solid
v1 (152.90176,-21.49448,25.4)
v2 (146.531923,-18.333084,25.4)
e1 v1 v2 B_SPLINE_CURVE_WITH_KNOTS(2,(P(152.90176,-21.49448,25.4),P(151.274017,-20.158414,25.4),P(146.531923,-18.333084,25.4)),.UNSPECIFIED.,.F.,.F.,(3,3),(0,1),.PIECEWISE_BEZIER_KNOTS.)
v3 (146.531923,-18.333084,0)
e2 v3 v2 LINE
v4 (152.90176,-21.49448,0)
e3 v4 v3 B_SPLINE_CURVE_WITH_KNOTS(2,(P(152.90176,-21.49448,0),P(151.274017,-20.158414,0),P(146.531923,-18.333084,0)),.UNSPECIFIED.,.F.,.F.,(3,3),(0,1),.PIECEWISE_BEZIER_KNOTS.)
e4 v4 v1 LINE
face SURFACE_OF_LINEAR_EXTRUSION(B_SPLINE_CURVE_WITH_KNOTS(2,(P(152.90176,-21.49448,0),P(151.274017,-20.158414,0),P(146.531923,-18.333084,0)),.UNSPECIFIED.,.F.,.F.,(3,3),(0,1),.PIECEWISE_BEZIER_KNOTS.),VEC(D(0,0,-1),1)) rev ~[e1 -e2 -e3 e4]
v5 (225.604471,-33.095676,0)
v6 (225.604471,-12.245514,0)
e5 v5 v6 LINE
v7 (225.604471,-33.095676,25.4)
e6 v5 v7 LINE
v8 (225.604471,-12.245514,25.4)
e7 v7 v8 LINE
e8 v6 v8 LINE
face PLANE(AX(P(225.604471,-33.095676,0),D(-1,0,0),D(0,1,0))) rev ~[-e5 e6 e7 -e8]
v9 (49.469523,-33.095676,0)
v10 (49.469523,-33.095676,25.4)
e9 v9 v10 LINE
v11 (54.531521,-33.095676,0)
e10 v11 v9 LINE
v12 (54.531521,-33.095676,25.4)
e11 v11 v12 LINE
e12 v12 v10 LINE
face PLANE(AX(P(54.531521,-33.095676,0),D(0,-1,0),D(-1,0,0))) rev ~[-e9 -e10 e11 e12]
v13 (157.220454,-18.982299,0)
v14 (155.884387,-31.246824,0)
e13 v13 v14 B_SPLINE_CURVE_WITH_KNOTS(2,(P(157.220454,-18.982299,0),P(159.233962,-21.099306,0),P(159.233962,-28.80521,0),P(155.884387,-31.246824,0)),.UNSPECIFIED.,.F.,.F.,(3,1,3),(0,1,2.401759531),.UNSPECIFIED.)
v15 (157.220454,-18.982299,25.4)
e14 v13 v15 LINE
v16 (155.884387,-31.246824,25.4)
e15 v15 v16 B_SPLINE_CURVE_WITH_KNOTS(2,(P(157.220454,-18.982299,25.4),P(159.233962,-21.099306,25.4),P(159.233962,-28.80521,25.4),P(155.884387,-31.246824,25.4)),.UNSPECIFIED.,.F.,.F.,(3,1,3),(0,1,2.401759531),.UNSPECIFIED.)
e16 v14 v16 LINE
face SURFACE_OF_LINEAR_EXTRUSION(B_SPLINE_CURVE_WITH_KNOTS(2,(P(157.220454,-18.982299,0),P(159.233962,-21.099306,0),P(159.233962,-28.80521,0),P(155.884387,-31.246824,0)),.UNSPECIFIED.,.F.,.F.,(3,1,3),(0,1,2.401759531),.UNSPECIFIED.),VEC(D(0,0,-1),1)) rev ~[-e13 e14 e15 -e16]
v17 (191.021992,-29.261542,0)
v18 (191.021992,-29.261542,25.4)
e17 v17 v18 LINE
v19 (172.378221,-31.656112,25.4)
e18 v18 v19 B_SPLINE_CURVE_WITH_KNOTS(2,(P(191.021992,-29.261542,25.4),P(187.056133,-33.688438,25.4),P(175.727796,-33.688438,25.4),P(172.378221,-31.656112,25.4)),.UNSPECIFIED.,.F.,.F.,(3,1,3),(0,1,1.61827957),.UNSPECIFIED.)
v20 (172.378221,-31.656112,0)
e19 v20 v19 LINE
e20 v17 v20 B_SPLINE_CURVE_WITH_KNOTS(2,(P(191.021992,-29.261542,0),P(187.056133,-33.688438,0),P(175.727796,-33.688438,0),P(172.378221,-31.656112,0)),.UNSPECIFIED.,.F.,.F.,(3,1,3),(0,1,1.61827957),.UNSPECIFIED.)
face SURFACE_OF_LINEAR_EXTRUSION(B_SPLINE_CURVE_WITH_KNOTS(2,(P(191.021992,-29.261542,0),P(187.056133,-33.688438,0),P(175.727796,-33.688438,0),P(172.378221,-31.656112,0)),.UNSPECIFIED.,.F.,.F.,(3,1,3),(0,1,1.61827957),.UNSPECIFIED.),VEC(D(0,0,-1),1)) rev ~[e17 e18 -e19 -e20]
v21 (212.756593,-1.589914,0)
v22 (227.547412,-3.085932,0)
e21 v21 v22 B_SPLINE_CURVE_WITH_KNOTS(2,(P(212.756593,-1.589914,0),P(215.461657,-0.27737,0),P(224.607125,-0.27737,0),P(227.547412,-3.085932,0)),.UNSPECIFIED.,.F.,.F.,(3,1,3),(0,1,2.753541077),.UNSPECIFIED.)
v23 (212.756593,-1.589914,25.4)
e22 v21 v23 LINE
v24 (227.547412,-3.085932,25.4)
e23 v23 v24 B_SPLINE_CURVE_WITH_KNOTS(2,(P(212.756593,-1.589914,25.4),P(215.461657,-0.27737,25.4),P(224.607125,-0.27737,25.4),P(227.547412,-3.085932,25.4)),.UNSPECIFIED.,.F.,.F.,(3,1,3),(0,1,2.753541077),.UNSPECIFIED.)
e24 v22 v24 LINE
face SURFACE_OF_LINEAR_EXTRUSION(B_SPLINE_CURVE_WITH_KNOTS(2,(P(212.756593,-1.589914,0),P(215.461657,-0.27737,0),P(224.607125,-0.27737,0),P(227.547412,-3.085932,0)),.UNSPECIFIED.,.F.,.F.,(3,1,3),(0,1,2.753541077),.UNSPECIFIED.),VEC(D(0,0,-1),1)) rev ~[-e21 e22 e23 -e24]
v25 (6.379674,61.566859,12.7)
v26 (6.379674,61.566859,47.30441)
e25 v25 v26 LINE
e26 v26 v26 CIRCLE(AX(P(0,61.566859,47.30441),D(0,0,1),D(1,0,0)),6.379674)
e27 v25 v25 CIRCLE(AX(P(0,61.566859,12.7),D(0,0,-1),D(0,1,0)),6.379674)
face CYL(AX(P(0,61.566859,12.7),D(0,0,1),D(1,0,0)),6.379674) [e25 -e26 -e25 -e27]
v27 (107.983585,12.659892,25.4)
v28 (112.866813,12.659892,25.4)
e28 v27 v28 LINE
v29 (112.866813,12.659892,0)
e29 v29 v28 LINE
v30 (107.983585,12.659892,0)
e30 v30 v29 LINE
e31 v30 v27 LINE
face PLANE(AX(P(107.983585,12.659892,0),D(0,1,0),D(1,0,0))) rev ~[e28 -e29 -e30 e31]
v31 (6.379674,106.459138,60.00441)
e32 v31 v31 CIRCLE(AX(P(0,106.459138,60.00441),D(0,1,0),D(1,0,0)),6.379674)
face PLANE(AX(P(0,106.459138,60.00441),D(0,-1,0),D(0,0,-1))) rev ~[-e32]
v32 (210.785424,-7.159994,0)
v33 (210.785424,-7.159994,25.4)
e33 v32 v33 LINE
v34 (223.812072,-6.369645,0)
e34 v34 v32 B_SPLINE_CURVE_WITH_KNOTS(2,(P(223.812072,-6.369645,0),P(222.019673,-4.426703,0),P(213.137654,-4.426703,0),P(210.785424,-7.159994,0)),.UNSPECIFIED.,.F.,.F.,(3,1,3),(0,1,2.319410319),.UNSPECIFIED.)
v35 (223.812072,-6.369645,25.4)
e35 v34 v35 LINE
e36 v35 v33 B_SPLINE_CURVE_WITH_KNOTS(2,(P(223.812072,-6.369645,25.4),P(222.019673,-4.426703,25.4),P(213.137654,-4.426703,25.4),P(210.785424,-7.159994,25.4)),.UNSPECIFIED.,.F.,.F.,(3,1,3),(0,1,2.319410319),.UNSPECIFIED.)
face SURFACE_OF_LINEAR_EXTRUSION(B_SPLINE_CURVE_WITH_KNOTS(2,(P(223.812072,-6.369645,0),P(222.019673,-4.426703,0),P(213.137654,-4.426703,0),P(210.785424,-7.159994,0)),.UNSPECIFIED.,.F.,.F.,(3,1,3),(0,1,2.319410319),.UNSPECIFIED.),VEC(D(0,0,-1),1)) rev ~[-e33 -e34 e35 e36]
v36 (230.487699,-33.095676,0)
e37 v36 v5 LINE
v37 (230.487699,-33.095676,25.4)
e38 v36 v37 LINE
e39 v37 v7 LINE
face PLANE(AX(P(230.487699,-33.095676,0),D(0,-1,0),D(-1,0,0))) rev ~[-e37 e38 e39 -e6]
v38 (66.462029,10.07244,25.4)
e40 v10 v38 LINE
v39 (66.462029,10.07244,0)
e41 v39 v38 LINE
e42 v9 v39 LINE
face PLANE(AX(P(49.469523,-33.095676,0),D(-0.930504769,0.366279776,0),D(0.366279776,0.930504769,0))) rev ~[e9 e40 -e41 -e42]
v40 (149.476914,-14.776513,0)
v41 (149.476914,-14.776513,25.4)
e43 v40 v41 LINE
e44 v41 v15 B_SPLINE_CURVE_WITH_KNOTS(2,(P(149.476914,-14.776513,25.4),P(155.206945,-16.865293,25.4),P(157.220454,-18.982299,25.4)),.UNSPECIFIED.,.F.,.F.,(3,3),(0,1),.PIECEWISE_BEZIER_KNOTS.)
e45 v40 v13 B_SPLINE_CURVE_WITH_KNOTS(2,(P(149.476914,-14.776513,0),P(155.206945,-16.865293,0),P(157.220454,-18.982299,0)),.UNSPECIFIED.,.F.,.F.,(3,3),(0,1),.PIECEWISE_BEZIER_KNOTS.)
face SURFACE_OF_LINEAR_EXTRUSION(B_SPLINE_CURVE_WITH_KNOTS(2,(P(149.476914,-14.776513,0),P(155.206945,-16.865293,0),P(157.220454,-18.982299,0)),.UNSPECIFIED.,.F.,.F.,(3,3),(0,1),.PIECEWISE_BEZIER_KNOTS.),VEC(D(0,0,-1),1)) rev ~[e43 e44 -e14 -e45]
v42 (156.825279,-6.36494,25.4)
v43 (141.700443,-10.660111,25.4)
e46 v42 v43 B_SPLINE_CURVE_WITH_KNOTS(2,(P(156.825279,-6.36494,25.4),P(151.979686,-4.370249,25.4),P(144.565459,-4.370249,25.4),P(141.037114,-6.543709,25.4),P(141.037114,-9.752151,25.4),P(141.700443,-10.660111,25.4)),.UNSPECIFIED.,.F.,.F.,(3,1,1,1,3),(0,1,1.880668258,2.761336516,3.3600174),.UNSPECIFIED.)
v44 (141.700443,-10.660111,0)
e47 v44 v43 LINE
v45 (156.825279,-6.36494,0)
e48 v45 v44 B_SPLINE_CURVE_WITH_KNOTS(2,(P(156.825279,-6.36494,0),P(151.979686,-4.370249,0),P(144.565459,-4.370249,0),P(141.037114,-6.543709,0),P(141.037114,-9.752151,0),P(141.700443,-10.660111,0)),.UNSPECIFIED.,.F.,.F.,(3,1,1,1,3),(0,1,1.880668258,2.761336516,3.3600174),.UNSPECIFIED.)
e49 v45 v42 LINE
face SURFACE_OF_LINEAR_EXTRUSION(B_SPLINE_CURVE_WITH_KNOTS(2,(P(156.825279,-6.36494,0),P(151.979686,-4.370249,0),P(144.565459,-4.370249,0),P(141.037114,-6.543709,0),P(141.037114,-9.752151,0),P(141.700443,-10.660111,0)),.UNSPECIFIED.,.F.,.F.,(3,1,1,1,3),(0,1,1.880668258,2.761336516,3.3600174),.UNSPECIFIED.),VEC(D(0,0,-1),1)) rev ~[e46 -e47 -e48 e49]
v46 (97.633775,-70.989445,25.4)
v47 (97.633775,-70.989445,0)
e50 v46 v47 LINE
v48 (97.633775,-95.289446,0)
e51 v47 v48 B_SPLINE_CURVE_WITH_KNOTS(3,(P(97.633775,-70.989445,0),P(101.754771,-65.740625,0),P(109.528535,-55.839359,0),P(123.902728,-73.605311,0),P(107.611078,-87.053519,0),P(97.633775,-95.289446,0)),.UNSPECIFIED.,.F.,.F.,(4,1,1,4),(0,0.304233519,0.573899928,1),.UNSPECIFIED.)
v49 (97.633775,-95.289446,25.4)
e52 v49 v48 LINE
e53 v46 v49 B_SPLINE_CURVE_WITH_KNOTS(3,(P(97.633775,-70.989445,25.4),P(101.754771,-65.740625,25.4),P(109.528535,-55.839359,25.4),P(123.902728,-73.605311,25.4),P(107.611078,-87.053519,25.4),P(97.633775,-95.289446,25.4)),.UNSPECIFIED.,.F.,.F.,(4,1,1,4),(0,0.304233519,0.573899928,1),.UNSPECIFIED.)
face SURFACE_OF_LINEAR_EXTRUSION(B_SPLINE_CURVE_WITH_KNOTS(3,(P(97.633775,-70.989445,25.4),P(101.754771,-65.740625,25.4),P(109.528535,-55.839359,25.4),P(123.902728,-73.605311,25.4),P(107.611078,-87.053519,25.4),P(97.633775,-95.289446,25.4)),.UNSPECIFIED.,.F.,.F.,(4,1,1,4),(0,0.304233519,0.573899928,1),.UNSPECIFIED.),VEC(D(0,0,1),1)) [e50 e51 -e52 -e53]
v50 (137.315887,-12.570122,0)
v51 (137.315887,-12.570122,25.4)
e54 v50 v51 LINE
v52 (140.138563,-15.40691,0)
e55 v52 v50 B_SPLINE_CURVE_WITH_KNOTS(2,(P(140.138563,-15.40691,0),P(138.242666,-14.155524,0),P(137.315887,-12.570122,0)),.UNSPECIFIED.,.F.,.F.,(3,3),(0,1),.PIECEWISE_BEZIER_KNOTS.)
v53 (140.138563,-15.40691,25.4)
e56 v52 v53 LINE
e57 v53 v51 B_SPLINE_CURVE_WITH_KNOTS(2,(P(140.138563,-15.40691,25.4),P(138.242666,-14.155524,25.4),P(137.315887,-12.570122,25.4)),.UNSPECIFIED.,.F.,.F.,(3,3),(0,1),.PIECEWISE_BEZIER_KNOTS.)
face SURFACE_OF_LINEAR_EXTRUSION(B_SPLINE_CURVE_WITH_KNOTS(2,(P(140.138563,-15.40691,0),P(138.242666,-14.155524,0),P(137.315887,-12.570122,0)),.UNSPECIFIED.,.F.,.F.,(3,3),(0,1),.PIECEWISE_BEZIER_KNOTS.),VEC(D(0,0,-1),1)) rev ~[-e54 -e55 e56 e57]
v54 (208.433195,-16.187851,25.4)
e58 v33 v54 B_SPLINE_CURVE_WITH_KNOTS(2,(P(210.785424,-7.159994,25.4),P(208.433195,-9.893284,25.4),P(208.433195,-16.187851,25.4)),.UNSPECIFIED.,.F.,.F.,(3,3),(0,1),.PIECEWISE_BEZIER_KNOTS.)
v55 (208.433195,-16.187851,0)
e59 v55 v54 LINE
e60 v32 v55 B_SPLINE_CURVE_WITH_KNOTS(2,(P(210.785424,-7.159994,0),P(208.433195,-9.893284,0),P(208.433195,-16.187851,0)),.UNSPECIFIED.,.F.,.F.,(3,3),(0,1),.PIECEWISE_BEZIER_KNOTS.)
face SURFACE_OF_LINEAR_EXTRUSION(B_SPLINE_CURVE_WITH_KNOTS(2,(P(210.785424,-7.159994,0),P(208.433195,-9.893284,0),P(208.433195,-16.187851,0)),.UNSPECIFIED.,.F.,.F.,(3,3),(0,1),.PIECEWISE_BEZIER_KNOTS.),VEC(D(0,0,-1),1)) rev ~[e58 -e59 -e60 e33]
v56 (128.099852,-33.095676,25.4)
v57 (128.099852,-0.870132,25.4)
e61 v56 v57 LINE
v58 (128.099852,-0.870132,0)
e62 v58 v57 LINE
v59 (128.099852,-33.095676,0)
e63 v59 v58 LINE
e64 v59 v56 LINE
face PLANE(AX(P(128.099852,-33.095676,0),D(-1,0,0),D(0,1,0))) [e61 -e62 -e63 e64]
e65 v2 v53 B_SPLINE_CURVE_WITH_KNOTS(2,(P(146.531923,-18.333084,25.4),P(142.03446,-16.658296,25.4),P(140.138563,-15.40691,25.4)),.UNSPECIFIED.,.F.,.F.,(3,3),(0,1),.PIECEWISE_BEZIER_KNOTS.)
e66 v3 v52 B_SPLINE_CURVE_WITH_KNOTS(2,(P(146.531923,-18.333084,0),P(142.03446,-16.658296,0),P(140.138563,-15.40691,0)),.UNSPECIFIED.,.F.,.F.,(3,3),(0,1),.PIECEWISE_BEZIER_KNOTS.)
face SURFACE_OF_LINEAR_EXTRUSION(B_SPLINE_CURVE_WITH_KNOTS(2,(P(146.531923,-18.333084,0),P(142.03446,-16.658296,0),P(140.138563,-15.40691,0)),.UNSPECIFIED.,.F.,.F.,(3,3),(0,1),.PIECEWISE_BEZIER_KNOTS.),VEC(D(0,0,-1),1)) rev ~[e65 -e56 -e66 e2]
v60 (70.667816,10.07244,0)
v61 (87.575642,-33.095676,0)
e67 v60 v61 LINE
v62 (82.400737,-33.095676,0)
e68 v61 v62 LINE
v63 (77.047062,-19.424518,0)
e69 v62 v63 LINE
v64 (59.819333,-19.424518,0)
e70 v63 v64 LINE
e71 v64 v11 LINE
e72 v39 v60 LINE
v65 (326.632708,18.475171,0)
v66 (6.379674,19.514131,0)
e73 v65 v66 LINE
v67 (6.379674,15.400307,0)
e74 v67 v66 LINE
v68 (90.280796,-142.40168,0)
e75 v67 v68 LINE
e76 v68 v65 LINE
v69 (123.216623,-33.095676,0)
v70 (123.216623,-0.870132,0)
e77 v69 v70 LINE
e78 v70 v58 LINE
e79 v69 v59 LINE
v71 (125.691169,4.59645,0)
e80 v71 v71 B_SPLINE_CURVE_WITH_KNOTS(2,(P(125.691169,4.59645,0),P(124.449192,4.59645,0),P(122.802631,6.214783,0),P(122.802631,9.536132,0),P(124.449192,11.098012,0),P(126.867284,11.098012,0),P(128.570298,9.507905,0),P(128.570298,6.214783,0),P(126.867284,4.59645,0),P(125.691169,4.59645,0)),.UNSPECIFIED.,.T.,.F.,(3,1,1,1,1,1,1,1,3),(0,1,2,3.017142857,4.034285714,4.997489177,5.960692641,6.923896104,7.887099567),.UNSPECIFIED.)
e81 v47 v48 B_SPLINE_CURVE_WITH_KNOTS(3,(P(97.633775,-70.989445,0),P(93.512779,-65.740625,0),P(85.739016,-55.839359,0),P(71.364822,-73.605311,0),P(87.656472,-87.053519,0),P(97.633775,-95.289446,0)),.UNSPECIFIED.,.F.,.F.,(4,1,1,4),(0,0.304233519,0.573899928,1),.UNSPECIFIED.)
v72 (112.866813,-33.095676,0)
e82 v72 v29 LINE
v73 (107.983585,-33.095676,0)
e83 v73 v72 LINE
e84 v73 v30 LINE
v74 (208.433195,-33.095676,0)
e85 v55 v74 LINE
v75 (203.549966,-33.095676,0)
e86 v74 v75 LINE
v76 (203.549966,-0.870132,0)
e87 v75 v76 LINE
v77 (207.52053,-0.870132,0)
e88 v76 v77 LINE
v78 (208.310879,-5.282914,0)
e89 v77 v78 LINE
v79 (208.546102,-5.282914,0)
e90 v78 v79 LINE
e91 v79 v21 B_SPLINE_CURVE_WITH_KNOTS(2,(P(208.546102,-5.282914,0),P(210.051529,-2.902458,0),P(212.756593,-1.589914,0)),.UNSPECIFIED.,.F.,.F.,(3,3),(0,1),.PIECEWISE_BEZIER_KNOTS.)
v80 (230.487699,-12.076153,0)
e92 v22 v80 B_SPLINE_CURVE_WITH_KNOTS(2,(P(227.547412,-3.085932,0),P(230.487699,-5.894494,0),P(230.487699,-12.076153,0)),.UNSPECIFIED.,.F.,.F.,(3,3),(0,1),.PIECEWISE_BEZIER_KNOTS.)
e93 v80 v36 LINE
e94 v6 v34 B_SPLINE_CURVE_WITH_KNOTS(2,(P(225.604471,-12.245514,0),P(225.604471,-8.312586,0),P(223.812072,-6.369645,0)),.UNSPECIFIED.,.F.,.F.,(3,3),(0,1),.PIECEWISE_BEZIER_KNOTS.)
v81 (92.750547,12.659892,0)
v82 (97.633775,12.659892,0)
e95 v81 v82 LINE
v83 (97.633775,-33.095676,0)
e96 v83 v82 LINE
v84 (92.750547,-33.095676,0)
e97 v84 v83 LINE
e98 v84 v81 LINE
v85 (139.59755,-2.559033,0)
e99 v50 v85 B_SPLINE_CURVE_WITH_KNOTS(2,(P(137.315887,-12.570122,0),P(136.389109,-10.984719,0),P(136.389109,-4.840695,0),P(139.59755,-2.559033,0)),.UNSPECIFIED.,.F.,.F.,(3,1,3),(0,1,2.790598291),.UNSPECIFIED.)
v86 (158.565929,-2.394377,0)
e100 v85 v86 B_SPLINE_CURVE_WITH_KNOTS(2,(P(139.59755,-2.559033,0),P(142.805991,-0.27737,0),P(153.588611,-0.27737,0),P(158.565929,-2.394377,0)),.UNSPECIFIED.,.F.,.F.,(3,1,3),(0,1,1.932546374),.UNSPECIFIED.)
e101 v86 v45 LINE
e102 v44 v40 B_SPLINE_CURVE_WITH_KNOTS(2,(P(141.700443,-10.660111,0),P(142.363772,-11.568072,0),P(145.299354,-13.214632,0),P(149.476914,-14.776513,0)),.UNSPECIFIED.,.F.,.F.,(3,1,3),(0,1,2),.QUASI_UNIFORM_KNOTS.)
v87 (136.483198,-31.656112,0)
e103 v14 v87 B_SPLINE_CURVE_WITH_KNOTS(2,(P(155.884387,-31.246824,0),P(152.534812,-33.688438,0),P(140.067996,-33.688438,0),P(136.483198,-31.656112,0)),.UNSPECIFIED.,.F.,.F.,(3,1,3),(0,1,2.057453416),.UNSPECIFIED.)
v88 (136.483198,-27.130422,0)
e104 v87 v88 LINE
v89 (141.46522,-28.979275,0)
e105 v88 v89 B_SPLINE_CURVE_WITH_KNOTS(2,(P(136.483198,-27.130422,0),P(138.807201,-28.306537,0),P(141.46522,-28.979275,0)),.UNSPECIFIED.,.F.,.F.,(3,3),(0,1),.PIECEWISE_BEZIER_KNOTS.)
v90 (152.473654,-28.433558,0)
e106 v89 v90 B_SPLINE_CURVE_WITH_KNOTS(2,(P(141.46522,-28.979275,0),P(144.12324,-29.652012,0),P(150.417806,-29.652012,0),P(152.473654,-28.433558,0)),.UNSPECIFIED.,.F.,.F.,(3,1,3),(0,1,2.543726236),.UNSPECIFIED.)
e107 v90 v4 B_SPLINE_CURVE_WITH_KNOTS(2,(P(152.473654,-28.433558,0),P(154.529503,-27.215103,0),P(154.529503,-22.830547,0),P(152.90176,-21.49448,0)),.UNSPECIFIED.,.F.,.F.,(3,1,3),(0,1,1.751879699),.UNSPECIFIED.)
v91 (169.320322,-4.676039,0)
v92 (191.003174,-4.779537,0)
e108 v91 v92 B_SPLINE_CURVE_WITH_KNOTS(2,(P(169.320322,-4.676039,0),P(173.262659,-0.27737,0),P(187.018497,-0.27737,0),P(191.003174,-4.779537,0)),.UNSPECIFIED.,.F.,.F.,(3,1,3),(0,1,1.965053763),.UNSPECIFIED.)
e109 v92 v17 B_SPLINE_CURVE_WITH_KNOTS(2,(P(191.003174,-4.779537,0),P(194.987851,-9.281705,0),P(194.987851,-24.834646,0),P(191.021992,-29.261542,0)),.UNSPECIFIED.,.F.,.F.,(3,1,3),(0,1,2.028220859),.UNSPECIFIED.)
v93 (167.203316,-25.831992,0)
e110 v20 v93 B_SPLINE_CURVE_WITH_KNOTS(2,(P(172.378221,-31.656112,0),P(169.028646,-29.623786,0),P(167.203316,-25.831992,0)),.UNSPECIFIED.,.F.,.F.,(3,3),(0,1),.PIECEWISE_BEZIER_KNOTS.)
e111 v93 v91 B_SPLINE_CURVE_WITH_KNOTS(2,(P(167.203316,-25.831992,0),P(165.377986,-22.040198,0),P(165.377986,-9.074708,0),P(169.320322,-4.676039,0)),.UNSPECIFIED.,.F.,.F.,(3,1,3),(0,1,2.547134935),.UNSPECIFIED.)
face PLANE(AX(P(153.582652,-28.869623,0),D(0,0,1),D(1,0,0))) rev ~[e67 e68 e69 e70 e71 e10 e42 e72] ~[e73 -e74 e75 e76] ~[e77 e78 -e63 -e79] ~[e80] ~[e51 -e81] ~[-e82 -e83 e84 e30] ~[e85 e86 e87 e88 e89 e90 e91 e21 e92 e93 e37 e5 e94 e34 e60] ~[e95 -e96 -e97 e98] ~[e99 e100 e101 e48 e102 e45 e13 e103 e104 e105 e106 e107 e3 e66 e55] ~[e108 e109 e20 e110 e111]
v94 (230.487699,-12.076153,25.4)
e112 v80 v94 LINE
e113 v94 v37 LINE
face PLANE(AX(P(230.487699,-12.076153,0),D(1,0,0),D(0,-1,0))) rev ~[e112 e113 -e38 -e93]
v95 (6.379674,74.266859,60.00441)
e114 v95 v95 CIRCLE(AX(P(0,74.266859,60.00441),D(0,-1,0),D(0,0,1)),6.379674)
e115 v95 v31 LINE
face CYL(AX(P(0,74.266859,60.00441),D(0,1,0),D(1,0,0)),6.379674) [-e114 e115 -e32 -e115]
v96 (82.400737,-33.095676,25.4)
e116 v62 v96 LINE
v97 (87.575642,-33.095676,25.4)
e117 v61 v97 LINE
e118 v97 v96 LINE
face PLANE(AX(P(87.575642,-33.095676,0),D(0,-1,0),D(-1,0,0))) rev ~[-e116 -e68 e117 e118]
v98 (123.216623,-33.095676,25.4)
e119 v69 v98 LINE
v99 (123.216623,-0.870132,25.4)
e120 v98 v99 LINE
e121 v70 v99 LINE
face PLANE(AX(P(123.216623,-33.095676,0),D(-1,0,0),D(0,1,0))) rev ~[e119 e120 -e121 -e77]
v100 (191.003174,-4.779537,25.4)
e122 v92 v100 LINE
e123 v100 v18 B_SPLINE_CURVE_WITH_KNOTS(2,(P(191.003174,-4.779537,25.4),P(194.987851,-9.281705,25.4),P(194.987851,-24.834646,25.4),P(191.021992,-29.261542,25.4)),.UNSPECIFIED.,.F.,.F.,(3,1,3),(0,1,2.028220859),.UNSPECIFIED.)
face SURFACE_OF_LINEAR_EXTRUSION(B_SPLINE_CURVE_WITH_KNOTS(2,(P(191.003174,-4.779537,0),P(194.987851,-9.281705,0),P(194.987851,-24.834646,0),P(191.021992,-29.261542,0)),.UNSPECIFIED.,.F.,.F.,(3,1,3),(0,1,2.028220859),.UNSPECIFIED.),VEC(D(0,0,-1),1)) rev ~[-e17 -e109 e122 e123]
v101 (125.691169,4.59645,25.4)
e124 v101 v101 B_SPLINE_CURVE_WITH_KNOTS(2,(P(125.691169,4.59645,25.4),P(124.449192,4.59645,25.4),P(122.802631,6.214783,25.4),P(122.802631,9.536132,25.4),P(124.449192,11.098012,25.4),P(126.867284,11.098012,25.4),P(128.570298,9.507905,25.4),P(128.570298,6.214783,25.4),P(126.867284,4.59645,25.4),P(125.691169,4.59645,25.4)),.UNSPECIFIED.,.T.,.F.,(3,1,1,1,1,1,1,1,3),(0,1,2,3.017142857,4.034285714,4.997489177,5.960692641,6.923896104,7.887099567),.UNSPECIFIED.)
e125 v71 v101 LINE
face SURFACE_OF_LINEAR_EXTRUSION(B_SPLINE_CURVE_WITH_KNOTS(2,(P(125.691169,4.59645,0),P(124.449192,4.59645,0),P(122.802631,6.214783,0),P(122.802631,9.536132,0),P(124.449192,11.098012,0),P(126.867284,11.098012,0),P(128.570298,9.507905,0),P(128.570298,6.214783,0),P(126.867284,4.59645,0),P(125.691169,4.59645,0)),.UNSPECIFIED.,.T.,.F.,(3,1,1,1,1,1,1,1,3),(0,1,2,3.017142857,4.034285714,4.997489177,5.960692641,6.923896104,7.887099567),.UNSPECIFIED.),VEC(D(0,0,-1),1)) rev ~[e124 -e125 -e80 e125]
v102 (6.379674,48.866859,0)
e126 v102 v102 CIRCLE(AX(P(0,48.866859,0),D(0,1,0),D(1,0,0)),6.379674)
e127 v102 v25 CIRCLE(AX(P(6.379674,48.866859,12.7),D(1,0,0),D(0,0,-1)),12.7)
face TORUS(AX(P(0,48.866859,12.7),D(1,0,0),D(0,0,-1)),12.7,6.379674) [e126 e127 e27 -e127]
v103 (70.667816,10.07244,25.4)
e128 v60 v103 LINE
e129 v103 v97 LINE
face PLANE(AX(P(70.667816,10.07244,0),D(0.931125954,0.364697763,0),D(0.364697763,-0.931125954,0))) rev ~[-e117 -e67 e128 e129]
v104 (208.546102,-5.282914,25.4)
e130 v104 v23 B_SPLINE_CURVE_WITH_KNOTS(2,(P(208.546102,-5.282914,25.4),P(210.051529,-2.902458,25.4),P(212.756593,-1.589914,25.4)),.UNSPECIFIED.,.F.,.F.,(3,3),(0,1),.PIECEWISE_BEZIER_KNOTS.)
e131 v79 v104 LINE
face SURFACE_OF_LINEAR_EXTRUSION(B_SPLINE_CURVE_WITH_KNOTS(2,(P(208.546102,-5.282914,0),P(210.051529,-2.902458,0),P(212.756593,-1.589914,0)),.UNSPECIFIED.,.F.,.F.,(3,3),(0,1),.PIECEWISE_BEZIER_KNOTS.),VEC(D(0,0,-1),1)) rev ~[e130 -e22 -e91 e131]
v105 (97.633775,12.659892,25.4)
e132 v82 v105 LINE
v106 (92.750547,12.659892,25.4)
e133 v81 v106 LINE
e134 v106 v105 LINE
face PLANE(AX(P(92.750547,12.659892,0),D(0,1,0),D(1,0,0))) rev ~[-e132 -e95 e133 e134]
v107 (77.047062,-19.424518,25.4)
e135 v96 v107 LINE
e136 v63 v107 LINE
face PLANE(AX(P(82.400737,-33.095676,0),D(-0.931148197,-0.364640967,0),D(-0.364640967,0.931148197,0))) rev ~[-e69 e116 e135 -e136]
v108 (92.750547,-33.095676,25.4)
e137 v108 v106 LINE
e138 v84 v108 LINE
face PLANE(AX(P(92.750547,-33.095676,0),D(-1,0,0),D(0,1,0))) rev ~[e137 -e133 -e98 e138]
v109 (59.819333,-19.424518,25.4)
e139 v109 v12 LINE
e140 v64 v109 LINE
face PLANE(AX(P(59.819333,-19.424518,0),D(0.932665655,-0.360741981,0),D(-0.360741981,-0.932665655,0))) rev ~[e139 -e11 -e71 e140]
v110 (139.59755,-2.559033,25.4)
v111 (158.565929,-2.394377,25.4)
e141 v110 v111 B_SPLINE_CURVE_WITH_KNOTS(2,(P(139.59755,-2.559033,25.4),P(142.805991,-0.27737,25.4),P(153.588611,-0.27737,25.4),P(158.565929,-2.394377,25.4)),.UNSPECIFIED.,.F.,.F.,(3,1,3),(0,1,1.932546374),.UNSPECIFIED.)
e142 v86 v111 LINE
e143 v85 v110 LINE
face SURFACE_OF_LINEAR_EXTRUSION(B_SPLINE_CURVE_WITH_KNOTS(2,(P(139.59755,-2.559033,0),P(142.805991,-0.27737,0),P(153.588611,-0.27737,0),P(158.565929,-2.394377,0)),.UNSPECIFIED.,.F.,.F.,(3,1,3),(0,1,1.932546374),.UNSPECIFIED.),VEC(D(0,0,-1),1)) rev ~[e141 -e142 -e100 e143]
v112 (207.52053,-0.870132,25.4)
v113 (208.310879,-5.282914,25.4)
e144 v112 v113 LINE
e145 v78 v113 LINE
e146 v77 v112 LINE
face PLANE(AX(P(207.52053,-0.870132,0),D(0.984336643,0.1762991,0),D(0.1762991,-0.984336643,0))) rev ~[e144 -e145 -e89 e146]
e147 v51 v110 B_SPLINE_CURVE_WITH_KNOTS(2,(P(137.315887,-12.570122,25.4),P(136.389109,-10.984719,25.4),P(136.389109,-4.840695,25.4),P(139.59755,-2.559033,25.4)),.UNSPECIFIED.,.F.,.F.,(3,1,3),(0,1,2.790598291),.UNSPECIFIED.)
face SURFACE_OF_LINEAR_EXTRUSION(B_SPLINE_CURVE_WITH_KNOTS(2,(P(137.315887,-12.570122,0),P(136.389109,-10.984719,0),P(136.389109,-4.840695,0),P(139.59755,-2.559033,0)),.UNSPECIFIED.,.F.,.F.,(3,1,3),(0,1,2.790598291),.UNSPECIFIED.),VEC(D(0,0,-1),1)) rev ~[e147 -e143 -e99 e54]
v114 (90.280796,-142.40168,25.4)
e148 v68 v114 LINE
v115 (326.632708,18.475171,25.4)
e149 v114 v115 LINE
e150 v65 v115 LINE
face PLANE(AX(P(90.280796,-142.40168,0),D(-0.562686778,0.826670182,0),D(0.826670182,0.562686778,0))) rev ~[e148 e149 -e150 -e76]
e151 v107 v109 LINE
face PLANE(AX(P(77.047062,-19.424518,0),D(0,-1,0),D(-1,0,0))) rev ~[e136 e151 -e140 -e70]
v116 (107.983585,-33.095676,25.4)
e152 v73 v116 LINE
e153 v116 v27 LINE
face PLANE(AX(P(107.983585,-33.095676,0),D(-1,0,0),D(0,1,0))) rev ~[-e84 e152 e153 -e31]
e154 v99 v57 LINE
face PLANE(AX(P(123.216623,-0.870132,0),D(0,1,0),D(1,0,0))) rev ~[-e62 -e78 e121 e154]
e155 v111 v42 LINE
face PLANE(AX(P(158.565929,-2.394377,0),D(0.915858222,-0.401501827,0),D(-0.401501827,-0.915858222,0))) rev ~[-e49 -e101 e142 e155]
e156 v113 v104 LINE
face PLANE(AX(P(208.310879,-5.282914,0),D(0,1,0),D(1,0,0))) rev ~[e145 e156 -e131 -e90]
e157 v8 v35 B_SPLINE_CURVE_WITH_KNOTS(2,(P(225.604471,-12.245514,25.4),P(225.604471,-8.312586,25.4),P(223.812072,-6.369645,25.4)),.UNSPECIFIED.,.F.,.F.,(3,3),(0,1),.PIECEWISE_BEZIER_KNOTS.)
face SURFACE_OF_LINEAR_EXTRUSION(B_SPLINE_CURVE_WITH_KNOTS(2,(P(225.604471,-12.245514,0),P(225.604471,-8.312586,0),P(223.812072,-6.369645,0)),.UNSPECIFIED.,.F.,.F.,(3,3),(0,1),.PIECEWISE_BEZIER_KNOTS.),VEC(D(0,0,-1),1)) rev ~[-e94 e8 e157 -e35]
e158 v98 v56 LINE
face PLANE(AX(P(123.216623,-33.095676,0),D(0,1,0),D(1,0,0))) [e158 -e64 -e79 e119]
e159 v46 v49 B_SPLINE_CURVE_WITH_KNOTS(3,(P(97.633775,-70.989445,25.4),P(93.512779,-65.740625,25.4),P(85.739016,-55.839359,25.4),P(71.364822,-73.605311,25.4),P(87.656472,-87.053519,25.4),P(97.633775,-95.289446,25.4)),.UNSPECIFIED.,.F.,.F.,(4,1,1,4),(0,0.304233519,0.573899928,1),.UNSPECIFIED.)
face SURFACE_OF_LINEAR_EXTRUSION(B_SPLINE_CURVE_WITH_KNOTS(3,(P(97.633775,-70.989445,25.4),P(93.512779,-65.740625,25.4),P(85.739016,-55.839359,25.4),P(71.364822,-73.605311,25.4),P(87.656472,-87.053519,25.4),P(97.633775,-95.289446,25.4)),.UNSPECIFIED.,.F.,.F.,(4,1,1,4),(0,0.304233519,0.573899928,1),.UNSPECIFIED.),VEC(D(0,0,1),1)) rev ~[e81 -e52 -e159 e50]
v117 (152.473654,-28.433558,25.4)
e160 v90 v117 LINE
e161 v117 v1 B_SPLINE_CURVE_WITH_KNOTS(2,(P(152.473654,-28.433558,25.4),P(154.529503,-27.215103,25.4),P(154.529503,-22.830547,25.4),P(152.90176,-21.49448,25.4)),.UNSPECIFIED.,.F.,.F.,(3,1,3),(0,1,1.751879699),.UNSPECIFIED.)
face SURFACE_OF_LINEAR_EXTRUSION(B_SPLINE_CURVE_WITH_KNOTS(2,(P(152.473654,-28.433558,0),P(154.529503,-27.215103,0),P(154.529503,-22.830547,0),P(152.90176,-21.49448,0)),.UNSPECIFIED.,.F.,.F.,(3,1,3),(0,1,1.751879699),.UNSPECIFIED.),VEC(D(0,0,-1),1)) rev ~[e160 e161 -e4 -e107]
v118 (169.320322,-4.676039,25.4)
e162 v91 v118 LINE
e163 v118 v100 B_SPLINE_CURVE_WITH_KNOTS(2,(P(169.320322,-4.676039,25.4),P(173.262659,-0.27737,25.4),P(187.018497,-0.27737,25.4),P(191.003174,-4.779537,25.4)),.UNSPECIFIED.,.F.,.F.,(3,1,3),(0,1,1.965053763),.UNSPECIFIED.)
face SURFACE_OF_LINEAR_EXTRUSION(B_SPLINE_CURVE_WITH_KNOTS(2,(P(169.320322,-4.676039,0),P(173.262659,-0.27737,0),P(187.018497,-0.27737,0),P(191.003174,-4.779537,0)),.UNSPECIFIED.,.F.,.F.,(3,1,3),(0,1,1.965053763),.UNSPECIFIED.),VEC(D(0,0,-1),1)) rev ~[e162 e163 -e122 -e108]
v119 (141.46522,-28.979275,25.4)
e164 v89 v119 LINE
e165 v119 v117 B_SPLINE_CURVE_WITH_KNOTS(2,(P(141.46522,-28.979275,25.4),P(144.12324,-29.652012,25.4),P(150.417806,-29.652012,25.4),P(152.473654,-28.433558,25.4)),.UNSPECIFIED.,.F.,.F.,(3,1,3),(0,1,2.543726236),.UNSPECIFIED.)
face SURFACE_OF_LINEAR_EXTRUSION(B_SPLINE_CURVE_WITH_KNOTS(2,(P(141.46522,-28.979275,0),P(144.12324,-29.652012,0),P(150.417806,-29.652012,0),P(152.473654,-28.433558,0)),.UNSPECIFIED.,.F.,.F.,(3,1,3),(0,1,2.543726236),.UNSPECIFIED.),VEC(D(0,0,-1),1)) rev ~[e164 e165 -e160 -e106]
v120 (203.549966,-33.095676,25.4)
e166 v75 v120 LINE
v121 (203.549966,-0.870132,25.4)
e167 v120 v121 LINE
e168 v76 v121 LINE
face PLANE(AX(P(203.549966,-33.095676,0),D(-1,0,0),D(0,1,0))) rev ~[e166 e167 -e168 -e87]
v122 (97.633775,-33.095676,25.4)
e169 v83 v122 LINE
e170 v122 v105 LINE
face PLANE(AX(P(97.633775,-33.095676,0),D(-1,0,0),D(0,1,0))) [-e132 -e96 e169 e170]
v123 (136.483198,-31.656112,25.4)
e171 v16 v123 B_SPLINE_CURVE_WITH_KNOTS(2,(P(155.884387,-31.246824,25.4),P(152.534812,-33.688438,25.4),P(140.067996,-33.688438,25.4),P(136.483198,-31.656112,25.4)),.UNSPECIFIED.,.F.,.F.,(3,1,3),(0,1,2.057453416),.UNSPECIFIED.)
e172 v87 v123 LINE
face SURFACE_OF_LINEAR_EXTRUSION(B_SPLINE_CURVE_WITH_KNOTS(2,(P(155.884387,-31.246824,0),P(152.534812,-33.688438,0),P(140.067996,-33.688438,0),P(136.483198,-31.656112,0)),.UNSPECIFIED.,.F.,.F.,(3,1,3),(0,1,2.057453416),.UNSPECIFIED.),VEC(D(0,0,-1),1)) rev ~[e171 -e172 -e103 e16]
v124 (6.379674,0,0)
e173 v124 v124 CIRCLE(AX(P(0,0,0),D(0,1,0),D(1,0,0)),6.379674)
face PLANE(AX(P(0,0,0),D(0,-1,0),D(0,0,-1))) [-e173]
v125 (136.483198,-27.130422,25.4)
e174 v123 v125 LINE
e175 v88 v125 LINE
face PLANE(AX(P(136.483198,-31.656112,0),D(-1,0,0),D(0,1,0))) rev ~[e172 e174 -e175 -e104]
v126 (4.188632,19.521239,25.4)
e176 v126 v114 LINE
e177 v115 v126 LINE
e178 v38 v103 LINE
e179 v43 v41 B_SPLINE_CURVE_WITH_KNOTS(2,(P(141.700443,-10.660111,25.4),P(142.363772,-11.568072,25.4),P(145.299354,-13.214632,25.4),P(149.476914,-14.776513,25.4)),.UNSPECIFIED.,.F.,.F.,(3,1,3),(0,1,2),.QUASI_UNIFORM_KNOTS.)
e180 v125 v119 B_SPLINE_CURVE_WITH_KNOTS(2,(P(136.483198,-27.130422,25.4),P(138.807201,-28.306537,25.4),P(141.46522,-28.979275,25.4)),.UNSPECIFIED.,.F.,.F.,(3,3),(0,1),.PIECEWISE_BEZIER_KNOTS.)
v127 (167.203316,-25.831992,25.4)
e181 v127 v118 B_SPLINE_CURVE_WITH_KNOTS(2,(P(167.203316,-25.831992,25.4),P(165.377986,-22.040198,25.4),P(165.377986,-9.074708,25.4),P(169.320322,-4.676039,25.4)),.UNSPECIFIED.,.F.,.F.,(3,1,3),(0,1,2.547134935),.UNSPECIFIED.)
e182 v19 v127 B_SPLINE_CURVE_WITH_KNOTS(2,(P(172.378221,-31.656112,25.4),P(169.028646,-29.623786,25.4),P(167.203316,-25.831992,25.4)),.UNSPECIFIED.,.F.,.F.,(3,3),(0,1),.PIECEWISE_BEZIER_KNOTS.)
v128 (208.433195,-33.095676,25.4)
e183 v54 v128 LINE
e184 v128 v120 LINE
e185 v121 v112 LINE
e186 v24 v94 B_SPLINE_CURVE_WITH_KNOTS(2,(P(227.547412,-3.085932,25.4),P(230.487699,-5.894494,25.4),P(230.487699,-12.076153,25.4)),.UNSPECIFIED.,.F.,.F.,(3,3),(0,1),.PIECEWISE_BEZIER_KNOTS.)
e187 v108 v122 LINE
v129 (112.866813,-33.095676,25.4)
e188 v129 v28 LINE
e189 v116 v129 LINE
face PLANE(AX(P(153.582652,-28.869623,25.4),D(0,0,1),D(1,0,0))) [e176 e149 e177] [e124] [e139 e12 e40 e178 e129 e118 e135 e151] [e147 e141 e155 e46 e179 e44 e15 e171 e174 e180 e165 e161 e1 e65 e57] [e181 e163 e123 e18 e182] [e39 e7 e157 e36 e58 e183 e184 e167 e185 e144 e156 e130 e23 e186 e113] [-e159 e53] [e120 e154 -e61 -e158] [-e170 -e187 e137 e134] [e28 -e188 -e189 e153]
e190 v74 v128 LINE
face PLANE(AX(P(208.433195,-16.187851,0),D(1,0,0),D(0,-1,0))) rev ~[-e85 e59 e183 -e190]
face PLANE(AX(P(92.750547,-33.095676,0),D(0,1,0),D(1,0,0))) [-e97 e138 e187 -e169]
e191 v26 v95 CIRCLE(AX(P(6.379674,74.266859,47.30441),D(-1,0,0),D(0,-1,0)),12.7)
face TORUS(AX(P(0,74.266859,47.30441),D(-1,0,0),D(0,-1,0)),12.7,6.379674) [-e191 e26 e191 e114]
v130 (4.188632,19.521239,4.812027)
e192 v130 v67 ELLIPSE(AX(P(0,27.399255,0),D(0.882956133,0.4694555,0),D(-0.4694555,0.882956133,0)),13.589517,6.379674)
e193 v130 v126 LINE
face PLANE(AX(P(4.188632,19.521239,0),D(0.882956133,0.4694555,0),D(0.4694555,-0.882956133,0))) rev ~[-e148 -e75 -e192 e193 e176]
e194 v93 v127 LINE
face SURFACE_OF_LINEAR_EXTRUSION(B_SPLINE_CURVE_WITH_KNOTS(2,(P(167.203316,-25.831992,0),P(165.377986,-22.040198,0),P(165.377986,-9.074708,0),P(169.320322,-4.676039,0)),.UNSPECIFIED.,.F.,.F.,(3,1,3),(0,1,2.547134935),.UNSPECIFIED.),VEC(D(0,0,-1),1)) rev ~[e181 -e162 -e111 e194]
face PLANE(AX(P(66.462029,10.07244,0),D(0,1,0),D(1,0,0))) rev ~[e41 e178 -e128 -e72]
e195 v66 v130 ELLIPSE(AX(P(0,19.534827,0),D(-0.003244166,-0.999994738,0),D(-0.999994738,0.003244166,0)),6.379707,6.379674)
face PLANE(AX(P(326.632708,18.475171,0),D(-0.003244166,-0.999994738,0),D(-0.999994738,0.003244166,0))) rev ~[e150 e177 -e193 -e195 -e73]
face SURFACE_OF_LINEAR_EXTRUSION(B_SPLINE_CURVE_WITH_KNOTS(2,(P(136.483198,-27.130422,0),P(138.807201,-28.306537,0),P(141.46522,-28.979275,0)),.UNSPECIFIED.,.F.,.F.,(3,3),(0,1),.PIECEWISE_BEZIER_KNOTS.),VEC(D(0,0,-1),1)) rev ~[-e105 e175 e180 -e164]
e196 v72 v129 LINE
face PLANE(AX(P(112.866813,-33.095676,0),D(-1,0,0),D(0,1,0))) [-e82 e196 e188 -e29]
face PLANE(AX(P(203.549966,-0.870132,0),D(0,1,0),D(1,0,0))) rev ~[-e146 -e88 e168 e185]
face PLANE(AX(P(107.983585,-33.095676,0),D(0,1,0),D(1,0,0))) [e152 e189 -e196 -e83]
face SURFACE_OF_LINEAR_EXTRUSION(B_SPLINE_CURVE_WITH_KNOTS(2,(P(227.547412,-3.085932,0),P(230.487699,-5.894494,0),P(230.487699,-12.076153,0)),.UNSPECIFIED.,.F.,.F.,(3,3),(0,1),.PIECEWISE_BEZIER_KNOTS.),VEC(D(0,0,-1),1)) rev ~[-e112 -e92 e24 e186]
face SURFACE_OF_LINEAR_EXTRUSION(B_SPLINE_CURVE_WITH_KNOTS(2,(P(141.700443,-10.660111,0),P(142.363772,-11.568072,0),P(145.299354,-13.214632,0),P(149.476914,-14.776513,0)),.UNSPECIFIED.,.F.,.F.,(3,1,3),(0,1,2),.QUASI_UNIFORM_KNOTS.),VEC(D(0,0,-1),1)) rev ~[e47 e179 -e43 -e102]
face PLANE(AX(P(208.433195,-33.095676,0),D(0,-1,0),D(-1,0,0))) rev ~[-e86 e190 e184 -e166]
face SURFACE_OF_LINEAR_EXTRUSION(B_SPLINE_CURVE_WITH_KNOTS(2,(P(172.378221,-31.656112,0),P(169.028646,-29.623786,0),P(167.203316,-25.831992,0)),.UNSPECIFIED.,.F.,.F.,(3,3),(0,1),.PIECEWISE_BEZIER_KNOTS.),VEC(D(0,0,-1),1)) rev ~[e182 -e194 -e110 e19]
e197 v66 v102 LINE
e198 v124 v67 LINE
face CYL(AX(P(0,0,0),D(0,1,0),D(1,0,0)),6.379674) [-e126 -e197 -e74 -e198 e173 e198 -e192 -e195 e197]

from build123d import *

# Parameters (mm, degrees)
F1_R     = 6.379673691
F3_W     = 4.8832285095
F3_H     = 45.7555688669
F3_H_2   = 32.2255445958
F4_DEPTH = 25.4
F6_DEPTH = 25.4


with BuildPart() as f2:
    # F2: sweep along a path in F0
    with BuildLine(Plane.YZ) as f2_path:
        Line((0, 0), (48.8668594837, 0))
        ThreePointArc((48.8668594837, 0), (57.8471156048, 3.7197438789), (61.5668594837, 12.7))
        Line((61.5668594837, 12.7), (61.5668594837, 47.304409945))
        ThreePointArc((61.5668594837, 47.304409945), (65.2866033626, 56.2846660661), (74.2668594837, 60.004409945))
        Line((74.2668594837, 60.004409945), (106.4591375947, 60.004409945))
    # F1 (on Front) → F2 (sweep)
    with BuildSketch(Plane.XZ):
        Circle(F1_R)
    sweep(path=f2_path.line)

    # F3 (on Top) → F4 (join)
    with BuildSketch(Plane.XY):
        Polygon((326.6327083111, 18.4751711786), (4.1886316997, 19.5212387724), (90.2807963532, -142.4016799862), align=None)
        Polygon((87.5756415589, -33.0956764519), (82.4007365874, -33.0956764519), (77.0470621713, -19.4245184088), (59.819333075, -19.4245184088), (54.5315210859, -33.0956764519), (49.4695231318, -33.0956764519), (66.4620292749, 10.0724399292), (70.6678156791, 10.0724399292), align=None, mode=Mode.SUBTRACT)
        with Locations((95.1921607853, -10.2178920185)):
            Rectangle(F3_W, F3_H, mode=Mode.SUBTRACT)
        with Locations((110.425199238, -10.2178920185)):
            Rectangle(F3_W, F3_H, mode=Mode.SUBTRACT)
        with Locations((125.6582376907, -16.982904154)):
            Rectangle(F3_W, F3_H_2, mode=Mode.SUBTRACT)
        with BuildLine():
            add(Edge.make_bspline(
                [(157.2204535583, -18.9822992567), (159.2339620381, -21.099305836), (159.2339620381, -24.3077469184)],
                knots=[0, 0, 0, 1, 1, 1], degree=2))
            add(Edge.make_bspline(
                [(159.2339620381, -24.3077469184), (159.2339620381, -28.8052097846), (155.8843871838, -31.2468240393)],
                knots=[0, 0, 0, 1, 1, 1], degree=2))
            add(Edge.make_bspline(
                [(155.8843871838, -31.2468240393), (152.5348123295, -33.6884382941), (146.4754690537, -33.6884382941)],
                knots=[0, 0, 0, 1, 1, 1], degree=2))
            add(Edge.make_bspline(
                [(146.4754690537, -33.6884382941), (140.067995807, -33.6884382941), (136.4831979994, -31.656111978)],
                knots=[0, 0, 0, 1, 1, 1], degree=2))
            Line((136.4831979994, -31.656111978), (136.4831979994, -27.1304223574))
            add(Edge.make_bspline(
                [(136.4831979994, -27.1304223574), (138.8072007776, -28.3065371237), (141.4652201494, -28.97927477)],
                knots=[0, 0, 0, 1, 1, 1], degree=2))
            add(Edge.make_bspline(
                [(141.4652201494, -28.97927477), (144.1232395211, -29.6520124163), (146.5977849894, -29.6520124163)],
                knots=[0, 0, 0, 1, 1, 1], degree=2))
            add(Edge.make_bspline(
                [(146.5977849894, -29.6520124163), (150.4178057502, -29.6520124163), (152.4736543616, -28.4335575184)],
                knots=[0, 0, 0, 1, 1, 1], degree=2))
            add(Edge.make_bspline(
                [(152.4736543616, -28.4335575184), (154.5295029731, -27.2151026206), (154.5295029731, -24.712330398)],
                knots=[0, 0, 0, 1, 1, 1], degree=2))
            add(Edge.make_bspline(
                [(154.5295029731, -24.712330398), (154.5295029731, -22.8305467719), (152.9017601366, -21.4944803975)],
                knots=[0, 0, 0, 1, 1, 1], degree=2))
            add(Edge.make_bspline(
                [(152.9017601366, -21.4944803975), (151.2740173, -20.158414023), (146.5319225624, -18.3330839057)],
                knots=[0, 0, 0, 1, 1, 1], degree=2))
            add(Edge.make_bspline(
                [(146.5319225624, -18.3330839057), (142.0344596962, -16.6582964786), (140.138562693, -15.4069103672)],
                knots=[0, 0, 0, 1, 1, 1], degree=2))
            add(Edge.make_bspline(
                [(140.138562693, -15.4069103672), (138.2426656898, -14.1555242559), (137.315887254, -12.570121551)],
                knots=[0, 0, 0, 1, 1, 1], degree=2))
            add(Edge.make_bspline(
                [(137.315887254, -12.570121551), (136.3891088181, -10.9847188461), (136.3891088181, -8.7830320036)],
                knots=[0, 0, 0, 1, 1, 1], degree=2))
            add(Edge.make_bspline(
                [(136.3891088181, -8.7830320036), (136.3891088181, -4.8406953071), (139.5975499005, -2.5590326605)],
                knots=[0, 0, 0, 1, 1, 1], degree=2))
            add(Edge.make_bspline(
                [(139.5975499005, -2.5590326605), (142.8059909829, -0.277370014), (148.3854794341, -0.277370014)],
                knots=[0, 0, 0, 1, 1, 1], degree=2))
            add(Edge.make_bspline(
                [(148.3854794341, -0.277370014), (153.5886111601, -0.277370014), (158.5659288509, -2.3943765933)],
                knots=[0, 0, 0, 1, 1, 1], degree=2))
            Line((158.5659288509, -2.3943765933), (156.8252789968, -6.3649400442))
            add(Edge.make_bspline(
                [(156.8252789968, -6.3649400442), (151.9796861598, -4.3702494006), (148.0373494633, -4.3702494006)],
                knots=[0, 0, 0, 1, 1, 1], degree=2))
            add(Edge.make_bspline(
                [(148.0373494633, -4.3702494006), (144.5654586732, -4.3702494006), (142.8012865238, -5.4569794446)],
                knots=[0, 0, 0, 1, 1, 1], degree=2))
            add(Edge.make_bspline(
                [(142.8012865238, -5.4569794446), (141.0371143744, -6.5437094886), (141.0371143744, -8.4537198691)],
                knots=[0, 0, 0, 1, 1, 1], degree=2))
            add(Edge.make_bspline(
                [(141.0371143744, -8.4537198691), (141.0371143744, -9.752150571), (141.7004431026, -10.6601111706)],
                knots=[0, 0, 0, 1, 1, 1], degree=2))
            add(Edge.make_bspline(
                [(141.7004431026, -10.6601111706), (142.3637718308, -11.5680717701), (143.8315630591, -12.3913521065)],
                knots=[0, 0, 0, 1, 1, 1], degree=2))
            add(Edge.make_bspline(
                [(143.8315630591, -12.3913521065), (145.2993542874, -13.2146324429), (149.4769139372, -14.7765128525)],
                knots=[0, 0, 0, 1, 1, 1], degree=2))
            add(Edge.make_bspline(
                [(149.4769139372, -14.7765128525), (155.2069450784, -16.8652926774), (157.2204535583, -18.9822992567)],
                knots=[0, 0, 0, 1, 1, 1], degree=2))
        make_face(mode=Mode.SUBTRACT)
        with BuildLine():
            add(Edge.make_bspline(
                [(123.6259113746, 5.4056165366), (122.8026310382, 6.2147834958), (122.8026310382, 7.8613441686)],
                knots=[0, 0, 0, 1, 1, 1], degree=2))
            add(Edge.make_bspline(
                [(122.8026310382, 7.8613441686), (122.8026310382, 9.5361315958), (123.6259113746, 10.3170718006)],
                knots=[0, 0, 0, 1, 1, 1], degree=2))
            add(Edge.make_bspline(
                [(123.6259113746, 10.3170718006), (124.449191711, 11.0980120054), (125.6911689042, 11.0980120054)],
                knots=[0, 0, 0, 1, 1, 1], degree=2))
            add(Edge.make_bspline(
                [(125.6911689042, 11.0980120054), (126.8672836704, 11.0980120054), (127.7187907612, 10.3029584234)],
                knots=[0, 0, 0, 1, 1, 1], degree=2))
            add(Edge.make_bspline(
                [(127.7187907612, 10.3029584234), (128.570297852, 9.5079048414), (128.570297852, 7.8613441686)],
                knots=[0, 0, 0, 1, 1, 1], degree=2))
            add(Edge.make_bspline(
                [(128.570297852, 7.8613441686), (128.570297852, 6.2147834958), (127.7187907612, 5.4056165366)],
                knots=[0, 0, 0, 1, 1, 1], degree=2))
            add(Edge.make_bspline(
                [(127.7187907612, 5.4056165366), (126.8672836704, 4.5964495774), (125.6911689042, 4.5964495774)],
                knots=[0, 0, 0, 1, 1, 1], degree=2))
            add(Edge.make_bspline(
                [(125.6911689042, 4.5964495774), (124.449191711, 4.5964495774), (123.6259113746, 5.4056165366)],
                knots=[0, 0, 0, 1, 1, 1], degree=2))
        make_face(mode=Mode.SUBTRACT)
        with BuildLine():
            add(Edge.make_bspline(
                [(191.0031741046, -4.7795373392), (194.9878509327, -9.2817046645), (194.9878509327, -16.9499729406)],
                knots=[0, 0, 0, 1, 1, 1], degree=2))
            add(Edge.make_bspline(
                [(194.9878509327, -16.9499729406), (194.9878509327, -24.8346463337), (191.0219919408, -29.2615423139)],
                knots=[0, 0, 0, 1, 1, 1], degree=2))
            add(Edge.make_bspline(
                [(191.0219919408, -29.2615423139), (187.056132949, -33.6884382941), (180.0558978602, -33.6884382941)],
                knots=[0, 0, 0, 1, 1, 1], degree=2))
            add(Edge.make_bspline(
                [(180.0558978602, -33.6884382941), (175.7277955203, -33.6884382941), (172.378220666, -31.656111978)],
                knots=[0, 0, 0, 1, 1, 1], degree=2))
            add(Edge.make_bspline(
                [(172.378220666, -31.656111978), (169.0286458116, -29.6237856619), (167.2033156944, -25.8319916554)],
                knots=[0, 0, 0, 1, 1, 1], degree=2))
            add(Edge.make_bspline(
                [(167.2033156944, -25.8319916554), (165.3779855771, -22.040197649), (165.3779855771, -16.9499729406)],
                knots=[0, 0, 0, 1, 1, 1], degree=2))
            add(Edge.make_bspline(
                [(165.3779855771, -16.9499729406), (165.3779855771, -9.0747084657), (169.3203222737, -4.6760392398)],
                knots=[0, 0, 0, 1, 1, 1], degree=2))
            add(Edge.make_bspline(
                [(169.3203222737, -4.6760392398), (173.2626589702, -0.277370014), (180.262894059, -0.277370014)],
                knots=[0, 0, 0, 1, 1, 1], degree=2))
            add(Edge.make_bspline(
                [(180.262894059, -0.277370014), (187.0184972765, -0.277370014), (191.0031741046, -4.7795373392)],
                knots=[0, 0, 0, 1, 1, 1], degree=2))
        make_face(mode=Mode.SUBTRACT)
        with BuildLine():
            Line((230.4876990377, -33.0956764519), (225.6044705282, -33.0956764519))
            Line((225.6044705282, -33.0956764519), (225.6044705282, -12.2455138755))
            add(Edge.make_bspline(
                [(225.6044705282, -12.2455138755), (225.6044705282, -8.3125860971), (223.8120716244, -6.3696445032)],
                knots=[0, 0, 0, 1, 1, 1], degree=2))
            add(Edge.make_bspline(
                [(223.8120716244, -6.3696445032), (222.0196727206, -4.4267029094), (218.1902430416, -4.4267029094)],
                knots=[0, 0, 0, 1, 1, 1], degree=2))
            add(Edge.make_bspline(
                [(218.1902430416, -4.4267029094), (213.1376540058, -4.4267029094), (210.7854244732, -7.1599936262)],
                knots=[0, 0, 0, 1, 1, 1], degree=2))
            add(Edge.make_bspline(
                [(210.7854244732, -7.1599936262), (208.4331949407, -9.893284343), (208.4331949407, -16.187850572)],
                knots=[0, 0, 0, 1, 1, 1], degree=2))
            Line((208.4331949407, -16.187850572), (208.4331949407, -33.0956764519))
            Line((208.4331949407, -33.0956764519), (203.5499664311, -33.0956764519))
            Line((203.5499664311, -33.0956764519), (203.5499664311, -0.8701318562))
            Line((203.5499664311, -0.8701318562), (207.5205298821, -0.8701318562))
            Line((207.5205298821, -0.8701318562), (208.310879005, -5.2829144592))
            Line((208.310879005, -5.2829144592), (208.5461019582, -5.2829144592))
            add(Edge.make_bspline(
                [(208.5461019582, -5.2829144592), (210.0515288591, -2.9024581723), (212.7565928215, -1.5899140931)],
                knots=[0, 0, 0, 1, 1, 1], degree=2))
            add(Edge.make_bspline(
                [(212.7565928215, -1.5899140931), (215.4616567839, -0.277370014), (218.7830048838, -0.277370014)],
                knots=[0, 0, 0, 1, 1, 1], degree=2))
            add(Edge.make_bspline(
                [(218.7830048838, -0.277370014), (224.6071252064, -0.277370014), (227.5474121221, -3.0859320758)],
                knots=[0, 0, 0, 1, 1, 1], degree=2))
            add(Edge.make_bspline(
                [(227.5474121221, -3.0859320758), (230.4876990377, -5.8944941377), (230.4876990377, -12.0761533492)],
                knots=[0, 0, 0, 1, 1, 1], degree=2))
            Line((230.4876990377, -12.0761533492), (230.4876990377, -33.0956764519))
        make_face(mode=Mode.SUBTRACT)
    extrude(amount=F4_DEPTH)

    # F5 (on face) → F6 (cut)
    with BuildSketch(Plane.XY.offset(25.4)):
        with BuildLine():
            add(Edge.make_bspline(
                [(97.6337750401, -70.9894448519), (101.7547711877, -65.7406254256), (109.5285345779, -55.8393591211), (123.9027278105, -73.6053108216), (107.611078169, -87.0535187852), (97.6337750401, -95.2894464135)],
                knots=[0, 0, 0, 0, 0.3042335189, 0.5738999278, 1, 1, 1, 1], degree=3))
            add(Edge.make_bspline(
                [(97.6337750401, -70.9894448519), (93.5127788924, -65.7406254256), (85.7390155022, -55.8393591211), (71.3648222696, -73.6053108216), (87.6564719111, -87.0535187852), (97.6337750401, -95.2894464135)],
                knots=[0, 0, 0, 0, 0.3042335189, 0.5738999278, 1, 1, 1, 1], degree=3))
        make_face()
    extrude(amount=-F6_DEPTH, mode=Mode.SUBTRACT)


solid = f2.part
